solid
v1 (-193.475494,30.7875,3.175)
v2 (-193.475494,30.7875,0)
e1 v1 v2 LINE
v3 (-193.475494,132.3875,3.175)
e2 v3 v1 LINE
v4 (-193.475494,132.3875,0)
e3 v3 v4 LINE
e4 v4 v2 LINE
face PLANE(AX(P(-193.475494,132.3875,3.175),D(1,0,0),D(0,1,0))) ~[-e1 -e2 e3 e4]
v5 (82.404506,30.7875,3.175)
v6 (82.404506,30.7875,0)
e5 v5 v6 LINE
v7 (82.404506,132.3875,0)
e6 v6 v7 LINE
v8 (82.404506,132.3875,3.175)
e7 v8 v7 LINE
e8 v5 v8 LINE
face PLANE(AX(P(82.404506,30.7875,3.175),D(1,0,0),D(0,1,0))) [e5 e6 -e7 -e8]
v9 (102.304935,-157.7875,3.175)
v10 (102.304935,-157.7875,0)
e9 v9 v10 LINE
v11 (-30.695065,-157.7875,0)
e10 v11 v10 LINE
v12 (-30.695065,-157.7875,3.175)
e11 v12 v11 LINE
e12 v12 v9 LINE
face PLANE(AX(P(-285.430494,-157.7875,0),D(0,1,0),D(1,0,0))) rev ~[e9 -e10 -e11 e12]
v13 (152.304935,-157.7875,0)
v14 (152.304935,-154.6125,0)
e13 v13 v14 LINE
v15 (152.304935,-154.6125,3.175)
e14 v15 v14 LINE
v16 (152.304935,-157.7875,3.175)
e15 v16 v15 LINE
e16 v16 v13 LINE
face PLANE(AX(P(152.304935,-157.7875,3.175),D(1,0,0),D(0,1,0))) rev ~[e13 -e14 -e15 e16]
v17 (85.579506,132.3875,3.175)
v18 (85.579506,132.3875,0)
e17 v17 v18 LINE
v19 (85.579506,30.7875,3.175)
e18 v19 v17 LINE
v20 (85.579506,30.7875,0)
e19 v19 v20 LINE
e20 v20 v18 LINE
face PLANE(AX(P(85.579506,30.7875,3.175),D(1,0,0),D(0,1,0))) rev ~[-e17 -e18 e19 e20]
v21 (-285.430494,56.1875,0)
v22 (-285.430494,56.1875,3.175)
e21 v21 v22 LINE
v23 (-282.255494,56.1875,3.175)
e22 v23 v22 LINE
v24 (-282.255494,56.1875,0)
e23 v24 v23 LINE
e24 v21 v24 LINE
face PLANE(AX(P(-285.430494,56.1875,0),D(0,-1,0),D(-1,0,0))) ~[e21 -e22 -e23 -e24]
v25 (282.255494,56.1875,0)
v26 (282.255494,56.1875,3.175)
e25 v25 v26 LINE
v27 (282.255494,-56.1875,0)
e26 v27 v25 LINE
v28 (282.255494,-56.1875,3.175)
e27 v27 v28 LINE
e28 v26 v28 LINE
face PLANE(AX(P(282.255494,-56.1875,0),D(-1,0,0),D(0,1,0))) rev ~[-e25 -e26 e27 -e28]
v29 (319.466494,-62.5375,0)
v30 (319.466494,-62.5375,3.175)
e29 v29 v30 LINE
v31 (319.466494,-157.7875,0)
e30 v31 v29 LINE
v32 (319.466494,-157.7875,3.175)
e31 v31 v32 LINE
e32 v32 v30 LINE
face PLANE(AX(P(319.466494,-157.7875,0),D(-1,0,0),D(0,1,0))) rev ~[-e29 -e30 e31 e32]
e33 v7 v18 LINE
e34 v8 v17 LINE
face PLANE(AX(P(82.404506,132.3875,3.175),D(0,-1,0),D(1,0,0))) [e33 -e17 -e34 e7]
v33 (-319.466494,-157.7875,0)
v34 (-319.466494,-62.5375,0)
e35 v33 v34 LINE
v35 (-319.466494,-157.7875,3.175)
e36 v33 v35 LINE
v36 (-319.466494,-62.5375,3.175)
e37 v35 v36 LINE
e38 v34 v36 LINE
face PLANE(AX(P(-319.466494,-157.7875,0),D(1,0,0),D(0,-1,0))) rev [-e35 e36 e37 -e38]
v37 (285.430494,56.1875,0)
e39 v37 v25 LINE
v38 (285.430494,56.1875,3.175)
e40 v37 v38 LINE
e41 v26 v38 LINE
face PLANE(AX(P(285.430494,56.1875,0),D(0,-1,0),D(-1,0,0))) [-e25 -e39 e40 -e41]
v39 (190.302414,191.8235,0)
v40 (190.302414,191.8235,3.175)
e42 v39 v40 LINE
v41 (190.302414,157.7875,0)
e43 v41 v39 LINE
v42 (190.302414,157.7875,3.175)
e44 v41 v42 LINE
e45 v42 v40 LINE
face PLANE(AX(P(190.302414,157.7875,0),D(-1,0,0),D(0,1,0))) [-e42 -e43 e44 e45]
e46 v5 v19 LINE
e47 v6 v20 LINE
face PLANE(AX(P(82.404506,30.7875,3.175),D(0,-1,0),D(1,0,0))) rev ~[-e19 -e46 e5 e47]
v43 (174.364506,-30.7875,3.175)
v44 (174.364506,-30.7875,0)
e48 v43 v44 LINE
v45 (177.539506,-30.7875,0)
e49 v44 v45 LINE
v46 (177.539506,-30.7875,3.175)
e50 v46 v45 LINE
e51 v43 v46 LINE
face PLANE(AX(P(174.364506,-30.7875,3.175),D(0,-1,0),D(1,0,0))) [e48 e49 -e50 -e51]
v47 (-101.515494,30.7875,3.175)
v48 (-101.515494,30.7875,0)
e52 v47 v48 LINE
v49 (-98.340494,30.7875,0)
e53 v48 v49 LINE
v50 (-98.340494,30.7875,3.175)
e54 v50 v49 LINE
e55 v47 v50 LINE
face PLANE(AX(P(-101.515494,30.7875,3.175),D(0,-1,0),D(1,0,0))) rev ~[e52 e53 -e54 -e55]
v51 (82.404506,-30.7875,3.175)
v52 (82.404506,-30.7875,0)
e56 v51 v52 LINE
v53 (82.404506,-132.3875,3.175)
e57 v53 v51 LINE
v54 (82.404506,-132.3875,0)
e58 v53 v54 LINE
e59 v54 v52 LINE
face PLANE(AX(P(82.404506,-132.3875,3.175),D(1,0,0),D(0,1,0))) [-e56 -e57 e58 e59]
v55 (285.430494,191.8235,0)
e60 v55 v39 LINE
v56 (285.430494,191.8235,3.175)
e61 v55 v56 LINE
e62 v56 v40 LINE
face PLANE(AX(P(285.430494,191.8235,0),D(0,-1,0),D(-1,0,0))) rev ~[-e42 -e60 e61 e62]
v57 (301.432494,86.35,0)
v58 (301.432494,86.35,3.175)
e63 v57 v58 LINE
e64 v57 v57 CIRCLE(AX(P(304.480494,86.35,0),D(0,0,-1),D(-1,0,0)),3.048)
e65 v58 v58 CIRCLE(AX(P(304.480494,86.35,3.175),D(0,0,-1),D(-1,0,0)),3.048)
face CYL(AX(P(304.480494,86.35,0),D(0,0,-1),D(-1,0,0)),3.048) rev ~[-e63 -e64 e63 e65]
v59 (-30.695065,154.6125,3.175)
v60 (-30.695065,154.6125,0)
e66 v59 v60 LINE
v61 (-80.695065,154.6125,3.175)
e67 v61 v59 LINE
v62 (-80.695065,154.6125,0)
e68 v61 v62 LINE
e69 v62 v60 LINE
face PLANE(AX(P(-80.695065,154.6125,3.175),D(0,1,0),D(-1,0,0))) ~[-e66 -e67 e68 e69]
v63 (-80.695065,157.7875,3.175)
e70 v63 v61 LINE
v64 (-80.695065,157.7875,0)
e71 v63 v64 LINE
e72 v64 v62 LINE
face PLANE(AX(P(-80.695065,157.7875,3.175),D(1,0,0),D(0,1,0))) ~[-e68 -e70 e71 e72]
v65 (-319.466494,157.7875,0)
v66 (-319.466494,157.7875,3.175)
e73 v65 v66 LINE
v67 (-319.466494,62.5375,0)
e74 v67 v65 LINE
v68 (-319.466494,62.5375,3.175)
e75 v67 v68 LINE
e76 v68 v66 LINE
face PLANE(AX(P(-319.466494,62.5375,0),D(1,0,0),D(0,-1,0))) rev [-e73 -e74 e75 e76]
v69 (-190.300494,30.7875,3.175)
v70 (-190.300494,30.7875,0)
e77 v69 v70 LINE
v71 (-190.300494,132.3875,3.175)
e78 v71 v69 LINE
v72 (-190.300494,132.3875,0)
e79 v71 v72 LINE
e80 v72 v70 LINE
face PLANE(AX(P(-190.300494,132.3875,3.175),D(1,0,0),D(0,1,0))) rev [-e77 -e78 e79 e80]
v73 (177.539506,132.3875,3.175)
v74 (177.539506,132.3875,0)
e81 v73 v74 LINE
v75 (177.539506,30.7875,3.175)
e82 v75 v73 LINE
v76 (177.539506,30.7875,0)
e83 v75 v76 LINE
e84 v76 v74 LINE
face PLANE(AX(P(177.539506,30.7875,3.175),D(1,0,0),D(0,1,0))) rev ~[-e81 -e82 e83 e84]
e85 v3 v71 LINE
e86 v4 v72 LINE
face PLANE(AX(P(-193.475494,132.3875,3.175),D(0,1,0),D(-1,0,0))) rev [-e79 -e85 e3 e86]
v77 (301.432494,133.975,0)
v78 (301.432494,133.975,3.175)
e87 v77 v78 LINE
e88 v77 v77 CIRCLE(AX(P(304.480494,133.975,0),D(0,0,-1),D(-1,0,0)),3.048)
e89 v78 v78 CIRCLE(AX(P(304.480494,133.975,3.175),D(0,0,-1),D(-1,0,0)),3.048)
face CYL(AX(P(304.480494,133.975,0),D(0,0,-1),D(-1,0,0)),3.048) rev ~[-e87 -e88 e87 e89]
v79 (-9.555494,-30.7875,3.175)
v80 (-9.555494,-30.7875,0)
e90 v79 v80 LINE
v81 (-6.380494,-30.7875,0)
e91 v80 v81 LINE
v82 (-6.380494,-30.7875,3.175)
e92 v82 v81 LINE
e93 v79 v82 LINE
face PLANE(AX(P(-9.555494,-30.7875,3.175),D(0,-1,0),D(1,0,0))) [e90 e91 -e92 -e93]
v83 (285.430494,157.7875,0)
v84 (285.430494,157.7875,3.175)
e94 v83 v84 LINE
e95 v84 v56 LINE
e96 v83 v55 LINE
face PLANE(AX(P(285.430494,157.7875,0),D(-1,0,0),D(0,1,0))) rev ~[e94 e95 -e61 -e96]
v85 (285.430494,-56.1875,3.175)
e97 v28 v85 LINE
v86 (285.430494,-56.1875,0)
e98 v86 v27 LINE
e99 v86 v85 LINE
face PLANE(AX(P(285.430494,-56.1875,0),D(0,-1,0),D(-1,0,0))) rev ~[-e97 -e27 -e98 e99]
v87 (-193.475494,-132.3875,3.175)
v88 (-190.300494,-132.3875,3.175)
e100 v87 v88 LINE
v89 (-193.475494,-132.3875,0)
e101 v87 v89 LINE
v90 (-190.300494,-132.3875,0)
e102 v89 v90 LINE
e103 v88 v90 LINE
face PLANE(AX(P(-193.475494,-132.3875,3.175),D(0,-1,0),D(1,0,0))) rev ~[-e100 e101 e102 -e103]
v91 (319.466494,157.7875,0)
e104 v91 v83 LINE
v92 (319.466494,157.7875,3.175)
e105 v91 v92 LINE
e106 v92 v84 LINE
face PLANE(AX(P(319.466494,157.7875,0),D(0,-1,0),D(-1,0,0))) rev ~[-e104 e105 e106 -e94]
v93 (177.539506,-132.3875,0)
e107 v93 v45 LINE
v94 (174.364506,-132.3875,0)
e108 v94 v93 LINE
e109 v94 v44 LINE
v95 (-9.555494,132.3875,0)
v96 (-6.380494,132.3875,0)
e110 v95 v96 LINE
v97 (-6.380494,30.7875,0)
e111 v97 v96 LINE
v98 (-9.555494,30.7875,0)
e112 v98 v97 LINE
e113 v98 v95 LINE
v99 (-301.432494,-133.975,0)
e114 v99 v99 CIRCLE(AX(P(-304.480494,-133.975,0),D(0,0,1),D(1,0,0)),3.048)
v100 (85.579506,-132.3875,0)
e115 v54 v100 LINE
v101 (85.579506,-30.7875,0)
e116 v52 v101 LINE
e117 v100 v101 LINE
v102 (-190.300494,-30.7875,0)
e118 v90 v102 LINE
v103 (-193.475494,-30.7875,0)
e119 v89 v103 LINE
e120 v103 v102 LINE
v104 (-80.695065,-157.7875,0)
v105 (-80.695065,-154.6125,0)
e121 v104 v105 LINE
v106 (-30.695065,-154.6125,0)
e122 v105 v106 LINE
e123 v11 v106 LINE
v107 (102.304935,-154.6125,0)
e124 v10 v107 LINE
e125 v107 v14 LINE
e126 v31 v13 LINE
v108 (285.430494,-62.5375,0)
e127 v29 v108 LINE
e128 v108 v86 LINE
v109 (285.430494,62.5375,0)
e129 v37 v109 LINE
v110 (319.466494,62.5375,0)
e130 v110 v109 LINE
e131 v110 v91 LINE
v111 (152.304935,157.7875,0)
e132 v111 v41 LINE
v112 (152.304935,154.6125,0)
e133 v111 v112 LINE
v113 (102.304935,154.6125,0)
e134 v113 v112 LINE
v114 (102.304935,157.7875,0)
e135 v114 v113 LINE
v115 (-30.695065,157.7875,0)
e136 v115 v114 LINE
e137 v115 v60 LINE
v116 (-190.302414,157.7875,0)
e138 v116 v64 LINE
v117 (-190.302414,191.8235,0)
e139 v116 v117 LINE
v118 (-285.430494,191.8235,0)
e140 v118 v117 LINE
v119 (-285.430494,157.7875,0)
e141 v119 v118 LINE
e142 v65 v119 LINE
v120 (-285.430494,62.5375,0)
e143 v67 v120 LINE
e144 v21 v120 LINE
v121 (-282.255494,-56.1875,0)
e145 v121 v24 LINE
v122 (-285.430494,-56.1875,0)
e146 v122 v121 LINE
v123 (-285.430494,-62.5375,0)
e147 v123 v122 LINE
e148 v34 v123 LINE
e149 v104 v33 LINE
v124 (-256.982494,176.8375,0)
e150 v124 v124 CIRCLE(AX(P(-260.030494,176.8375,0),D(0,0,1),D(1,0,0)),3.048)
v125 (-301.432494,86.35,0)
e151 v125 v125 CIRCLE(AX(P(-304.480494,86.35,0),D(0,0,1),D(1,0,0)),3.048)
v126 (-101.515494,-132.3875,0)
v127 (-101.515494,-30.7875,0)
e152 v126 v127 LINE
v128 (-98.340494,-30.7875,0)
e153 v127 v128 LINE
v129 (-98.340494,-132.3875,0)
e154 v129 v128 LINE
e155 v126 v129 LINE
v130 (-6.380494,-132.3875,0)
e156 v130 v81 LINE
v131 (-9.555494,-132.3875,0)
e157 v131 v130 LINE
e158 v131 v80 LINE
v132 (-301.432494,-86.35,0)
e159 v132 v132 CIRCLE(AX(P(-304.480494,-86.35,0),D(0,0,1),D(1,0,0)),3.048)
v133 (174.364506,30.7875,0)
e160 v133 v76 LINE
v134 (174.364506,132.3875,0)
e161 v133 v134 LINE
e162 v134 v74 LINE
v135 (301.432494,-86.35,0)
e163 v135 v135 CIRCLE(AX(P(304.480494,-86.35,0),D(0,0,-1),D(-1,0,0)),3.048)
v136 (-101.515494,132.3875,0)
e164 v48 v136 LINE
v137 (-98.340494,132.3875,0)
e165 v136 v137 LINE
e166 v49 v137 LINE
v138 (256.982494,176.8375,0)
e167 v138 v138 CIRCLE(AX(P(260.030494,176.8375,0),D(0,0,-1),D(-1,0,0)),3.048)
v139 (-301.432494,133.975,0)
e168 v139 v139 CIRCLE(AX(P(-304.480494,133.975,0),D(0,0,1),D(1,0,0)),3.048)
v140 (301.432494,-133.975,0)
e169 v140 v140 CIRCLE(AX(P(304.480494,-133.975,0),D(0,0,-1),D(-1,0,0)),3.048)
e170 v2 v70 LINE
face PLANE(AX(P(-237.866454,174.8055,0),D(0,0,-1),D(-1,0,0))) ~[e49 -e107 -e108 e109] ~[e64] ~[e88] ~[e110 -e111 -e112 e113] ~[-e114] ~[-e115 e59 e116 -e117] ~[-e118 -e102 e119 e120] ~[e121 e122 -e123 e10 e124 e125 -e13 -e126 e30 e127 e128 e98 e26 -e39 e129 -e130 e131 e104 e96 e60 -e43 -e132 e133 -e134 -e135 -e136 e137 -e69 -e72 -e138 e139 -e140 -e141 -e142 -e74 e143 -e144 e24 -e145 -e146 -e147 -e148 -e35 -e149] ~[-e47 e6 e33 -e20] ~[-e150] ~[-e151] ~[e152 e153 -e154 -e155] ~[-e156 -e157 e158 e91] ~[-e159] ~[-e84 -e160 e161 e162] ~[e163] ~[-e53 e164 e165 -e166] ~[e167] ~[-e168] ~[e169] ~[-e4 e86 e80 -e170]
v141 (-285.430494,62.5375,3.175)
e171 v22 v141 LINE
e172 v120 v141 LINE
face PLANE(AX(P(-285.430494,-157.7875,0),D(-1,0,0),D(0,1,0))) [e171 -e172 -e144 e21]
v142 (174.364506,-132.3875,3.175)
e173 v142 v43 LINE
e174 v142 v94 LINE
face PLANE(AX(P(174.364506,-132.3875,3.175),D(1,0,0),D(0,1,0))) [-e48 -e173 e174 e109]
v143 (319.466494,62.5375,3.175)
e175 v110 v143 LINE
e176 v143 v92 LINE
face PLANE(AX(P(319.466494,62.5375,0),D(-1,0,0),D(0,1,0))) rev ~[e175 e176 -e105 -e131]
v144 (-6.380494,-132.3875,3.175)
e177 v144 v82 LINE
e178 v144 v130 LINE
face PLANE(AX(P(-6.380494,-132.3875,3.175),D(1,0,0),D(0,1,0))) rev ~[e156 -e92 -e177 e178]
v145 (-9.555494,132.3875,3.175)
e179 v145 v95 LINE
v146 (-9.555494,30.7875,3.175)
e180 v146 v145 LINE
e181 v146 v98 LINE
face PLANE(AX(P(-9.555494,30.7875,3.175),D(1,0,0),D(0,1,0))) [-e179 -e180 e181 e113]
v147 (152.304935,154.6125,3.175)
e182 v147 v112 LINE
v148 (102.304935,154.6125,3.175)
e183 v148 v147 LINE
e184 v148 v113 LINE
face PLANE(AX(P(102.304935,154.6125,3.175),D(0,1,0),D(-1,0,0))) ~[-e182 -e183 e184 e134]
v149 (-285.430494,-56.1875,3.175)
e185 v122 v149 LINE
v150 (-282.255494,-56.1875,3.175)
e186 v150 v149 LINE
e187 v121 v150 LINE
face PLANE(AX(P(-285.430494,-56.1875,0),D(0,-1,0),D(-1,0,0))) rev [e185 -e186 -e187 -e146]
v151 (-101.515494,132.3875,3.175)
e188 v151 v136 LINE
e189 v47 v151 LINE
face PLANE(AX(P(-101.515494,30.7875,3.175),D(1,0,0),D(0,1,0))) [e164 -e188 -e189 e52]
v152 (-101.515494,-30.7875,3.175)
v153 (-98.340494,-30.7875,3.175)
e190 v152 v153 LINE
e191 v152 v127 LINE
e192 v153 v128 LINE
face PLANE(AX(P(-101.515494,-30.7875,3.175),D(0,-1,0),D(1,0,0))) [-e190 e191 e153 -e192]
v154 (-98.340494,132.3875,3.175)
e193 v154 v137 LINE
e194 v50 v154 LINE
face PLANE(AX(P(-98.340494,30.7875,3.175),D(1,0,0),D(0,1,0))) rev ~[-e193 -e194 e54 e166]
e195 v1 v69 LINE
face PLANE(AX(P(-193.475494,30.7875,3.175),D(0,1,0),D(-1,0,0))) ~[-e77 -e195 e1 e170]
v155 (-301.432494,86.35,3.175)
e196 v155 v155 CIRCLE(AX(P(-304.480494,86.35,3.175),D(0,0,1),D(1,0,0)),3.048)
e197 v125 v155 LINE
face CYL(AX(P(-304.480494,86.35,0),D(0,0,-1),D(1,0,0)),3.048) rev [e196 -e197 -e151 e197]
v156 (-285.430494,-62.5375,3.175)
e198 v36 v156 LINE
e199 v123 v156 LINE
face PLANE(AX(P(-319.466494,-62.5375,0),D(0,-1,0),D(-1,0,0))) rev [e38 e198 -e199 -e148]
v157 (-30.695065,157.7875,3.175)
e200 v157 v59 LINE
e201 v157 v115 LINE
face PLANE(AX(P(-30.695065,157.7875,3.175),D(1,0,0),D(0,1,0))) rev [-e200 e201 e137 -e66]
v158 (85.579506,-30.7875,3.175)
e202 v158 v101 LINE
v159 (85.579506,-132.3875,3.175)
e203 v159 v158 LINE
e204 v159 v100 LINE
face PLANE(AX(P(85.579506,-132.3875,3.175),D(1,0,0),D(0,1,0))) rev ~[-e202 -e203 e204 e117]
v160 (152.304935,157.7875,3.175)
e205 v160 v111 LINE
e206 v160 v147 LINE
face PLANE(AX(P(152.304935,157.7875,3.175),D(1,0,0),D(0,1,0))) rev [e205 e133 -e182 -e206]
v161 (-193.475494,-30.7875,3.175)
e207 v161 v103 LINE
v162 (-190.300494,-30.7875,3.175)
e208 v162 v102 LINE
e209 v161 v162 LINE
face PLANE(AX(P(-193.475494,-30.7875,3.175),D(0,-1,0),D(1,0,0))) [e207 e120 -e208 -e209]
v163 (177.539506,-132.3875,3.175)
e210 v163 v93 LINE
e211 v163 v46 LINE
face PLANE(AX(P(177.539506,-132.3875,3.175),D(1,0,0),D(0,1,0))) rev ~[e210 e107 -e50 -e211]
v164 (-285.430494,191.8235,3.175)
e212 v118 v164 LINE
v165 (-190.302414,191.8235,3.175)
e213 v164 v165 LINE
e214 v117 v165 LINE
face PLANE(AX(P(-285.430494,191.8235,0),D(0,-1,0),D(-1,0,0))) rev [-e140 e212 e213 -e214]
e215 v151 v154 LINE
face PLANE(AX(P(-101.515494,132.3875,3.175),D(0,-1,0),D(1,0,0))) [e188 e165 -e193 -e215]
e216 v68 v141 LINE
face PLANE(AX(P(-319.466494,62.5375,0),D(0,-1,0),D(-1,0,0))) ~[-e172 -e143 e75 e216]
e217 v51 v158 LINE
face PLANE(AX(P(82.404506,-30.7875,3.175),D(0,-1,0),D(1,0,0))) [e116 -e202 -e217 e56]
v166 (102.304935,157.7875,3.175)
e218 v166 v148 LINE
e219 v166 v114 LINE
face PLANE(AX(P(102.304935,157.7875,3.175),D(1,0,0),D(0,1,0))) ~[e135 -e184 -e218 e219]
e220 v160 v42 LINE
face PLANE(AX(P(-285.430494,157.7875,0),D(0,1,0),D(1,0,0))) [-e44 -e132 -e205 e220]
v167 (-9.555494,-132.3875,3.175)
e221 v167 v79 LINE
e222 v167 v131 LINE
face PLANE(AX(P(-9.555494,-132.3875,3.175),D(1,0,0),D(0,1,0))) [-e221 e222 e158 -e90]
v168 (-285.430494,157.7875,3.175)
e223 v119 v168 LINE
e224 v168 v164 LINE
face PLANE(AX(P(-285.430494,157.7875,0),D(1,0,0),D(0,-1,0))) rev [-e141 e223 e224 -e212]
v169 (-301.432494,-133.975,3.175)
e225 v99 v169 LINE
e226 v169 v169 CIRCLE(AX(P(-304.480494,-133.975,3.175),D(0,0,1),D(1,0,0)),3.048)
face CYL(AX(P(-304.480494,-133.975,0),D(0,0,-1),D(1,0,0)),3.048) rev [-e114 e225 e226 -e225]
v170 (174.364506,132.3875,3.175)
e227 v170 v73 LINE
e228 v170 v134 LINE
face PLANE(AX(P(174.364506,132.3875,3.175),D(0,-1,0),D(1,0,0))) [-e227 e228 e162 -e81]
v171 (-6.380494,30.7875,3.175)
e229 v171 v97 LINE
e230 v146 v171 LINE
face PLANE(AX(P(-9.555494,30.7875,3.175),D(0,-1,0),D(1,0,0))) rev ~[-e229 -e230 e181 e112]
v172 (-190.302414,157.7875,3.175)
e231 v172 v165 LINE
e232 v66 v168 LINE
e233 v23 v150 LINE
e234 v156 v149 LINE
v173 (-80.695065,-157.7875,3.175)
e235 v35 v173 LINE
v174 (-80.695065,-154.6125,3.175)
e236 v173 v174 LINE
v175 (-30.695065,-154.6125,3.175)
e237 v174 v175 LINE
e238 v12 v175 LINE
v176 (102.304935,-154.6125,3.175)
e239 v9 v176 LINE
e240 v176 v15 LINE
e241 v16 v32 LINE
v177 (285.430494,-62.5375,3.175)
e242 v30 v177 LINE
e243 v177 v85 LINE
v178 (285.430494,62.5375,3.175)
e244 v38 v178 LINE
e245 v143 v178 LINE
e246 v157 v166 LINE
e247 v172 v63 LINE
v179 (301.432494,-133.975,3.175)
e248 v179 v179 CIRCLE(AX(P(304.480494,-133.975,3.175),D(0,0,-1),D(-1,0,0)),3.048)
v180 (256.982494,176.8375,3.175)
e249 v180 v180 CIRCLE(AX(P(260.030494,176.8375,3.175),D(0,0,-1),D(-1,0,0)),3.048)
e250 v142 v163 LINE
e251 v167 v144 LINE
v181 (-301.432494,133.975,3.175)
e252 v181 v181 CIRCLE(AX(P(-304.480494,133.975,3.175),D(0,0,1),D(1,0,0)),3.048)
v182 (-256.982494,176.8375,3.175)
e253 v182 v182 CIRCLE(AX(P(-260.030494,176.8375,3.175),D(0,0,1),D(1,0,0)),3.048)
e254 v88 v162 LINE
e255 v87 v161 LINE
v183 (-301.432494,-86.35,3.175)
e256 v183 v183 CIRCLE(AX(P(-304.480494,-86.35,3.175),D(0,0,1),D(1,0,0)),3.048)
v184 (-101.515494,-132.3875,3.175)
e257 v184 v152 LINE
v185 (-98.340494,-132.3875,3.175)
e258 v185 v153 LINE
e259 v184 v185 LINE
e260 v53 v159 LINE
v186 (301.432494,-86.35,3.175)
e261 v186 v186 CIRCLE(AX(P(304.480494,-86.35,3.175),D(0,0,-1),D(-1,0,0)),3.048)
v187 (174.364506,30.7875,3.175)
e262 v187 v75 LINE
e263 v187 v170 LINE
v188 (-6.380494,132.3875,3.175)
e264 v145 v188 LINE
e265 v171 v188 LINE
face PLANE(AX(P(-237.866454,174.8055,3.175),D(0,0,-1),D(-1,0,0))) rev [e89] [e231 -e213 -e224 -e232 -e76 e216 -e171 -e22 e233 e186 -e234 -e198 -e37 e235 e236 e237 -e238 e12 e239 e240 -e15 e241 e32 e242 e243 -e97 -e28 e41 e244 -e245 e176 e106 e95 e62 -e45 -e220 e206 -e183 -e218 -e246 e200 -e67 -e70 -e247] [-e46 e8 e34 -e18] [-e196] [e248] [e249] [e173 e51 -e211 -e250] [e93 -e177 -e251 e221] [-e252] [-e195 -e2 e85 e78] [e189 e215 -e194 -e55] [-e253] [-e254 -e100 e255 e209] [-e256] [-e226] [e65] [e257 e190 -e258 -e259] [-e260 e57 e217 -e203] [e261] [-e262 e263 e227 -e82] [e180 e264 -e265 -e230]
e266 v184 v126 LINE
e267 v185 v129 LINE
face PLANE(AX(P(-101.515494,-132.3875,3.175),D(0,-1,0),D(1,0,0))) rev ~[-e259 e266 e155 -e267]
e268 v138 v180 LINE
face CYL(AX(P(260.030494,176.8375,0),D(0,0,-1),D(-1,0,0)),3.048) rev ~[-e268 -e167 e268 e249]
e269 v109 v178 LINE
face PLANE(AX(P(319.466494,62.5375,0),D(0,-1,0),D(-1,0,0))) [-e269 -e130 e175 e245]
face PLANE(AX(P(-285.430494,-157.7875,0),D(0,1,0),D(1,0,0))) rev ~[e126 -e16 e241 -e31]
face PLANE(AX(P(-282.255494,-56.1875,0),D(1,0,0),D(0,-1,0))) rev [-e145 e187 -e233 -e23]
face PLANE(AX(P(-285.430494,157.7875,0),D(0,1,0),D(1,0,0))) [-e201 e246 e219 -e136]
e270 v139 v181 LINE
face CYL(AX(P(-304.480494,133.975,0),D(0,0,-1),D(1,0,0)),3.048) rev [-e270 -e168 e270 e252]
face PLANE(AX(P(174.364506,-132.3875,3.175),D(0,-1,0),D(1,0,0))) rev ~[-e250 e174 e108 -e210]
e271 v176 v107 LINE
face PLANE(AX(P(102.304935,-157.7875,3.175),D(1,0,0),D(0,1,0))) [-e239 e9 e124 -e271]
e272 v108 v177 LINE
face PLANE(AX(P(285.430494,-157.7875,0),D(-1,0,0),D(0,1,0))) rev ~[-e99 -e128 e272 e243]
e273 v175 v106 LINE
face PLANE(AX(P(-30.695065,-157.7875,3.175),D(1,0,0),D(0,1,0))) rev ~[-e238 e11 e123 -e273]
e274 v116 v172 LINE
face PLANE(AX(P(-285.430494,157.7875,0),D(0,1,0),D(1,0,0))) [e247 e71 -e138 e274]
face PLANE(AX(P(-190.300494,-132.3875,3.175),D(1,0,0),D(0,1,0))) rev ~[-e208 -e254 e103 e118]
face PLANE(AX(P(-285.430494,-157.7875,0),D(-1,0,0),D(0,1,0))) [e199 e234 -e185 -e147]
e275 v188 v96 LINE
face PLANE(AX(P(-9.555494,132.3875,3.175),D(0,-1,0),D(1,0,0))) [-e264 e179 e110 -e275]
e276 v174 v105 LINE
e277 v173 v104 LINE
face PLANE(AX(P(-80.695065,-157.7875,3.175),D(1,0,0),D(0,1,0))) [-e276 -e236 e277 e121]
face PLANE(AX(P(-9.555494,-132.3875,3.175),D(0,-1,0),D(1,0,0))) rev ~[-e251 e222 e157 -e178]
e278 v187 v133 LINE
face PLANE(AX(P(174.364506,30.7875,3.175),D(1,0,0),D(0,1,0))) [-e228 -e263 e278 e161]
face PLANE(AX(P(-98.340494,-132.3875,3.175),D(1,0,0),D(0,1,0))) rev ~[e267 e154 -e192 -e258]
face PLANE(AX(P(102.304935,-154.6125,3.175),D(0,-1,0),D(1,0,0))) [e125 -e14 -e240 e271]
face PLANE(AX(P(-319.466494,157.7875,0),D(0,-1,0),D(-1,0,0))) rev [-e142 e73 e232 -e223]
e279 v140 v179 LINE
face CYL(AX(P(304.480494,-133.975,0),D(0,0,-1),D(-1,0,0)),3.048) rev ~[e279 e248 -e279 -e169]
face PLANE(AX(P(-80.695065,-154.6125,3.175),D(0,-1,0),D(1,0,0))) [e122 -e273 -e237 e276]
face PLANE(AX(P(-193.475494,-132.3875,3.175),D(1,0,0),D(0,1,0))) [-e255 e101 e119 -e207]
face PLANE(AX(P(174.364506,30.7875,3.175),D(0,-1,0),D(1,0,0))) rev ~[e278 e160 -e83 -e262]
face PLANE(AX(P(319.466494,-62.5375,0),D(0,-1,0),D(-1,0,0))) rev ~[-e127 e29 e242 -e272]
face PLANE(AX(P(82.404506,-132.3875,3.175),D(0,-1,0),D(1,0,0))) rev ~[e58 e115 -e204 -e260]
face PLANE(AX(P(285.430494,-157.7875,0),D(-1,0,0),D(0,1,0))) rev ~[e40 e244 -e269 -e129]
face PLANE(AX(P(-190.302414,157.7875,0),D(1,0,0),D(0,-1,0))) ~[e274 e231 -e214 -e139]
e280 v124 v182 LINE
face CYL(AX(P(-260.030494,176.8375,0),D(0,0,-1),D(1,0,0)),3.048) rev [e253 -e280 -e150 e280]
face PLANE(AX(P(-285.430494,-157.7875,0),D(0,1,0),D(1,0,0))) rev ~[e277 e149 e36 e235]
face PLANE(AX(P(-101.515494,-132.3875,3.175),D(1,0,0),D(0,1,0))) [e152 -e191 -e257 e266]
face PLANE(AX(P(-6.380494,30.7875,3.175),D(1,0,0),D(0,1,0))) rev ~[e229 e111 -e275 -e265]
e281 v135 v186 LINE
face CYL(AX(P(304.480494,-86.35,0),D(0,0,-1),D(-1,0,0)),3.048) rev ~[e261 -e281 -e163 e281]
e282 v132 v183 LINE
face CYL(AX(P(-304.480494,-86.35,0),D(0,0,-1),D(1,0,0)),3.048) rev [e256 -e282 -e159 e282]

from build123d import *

# Parameters (mm, degrees)
SKETCH1_W                 = 570.860988324
SKETCH1_H                 = 315.575
BOSS_EXTRUDE1_DEPTH       = 3.175
SKETCH2_W                 = 3.175
SKETCH2_H                 = 101.6
CUT_EXTRUDE1_DEPTH        = 3.175
SKETCH7_W                 = 50
SKETCH7_H                 = 3.175
CUT_EXTRUDE5_DEPTH        = 3.175
LPATTERN2_COUNT           = 5
LPATTERN2_PITCH           = 91.96
LPATTERN2_COPY_1_SKETCH_W = 3.175
LPATTERN2_COPY_1_SKETCH_H = 101.6
LPATTERN2_COPY_1_DEPTH    = 3.175
LPATTERN2_COPY_2_SKETCH_W = 3.175
LPATTERN2_COPY_2_SKETCH_H = 101.6
LPATTERN2_COPY_2_DEPTH    = 3.175
LPATTERN2_COPY_3_SKETCH_W = 3.175
LPATTERN2_COPY_3_SKETCH_H = 101.6
LPATTERN2_COPY_3_DEPTH    = 3.175
LPATTERN2_COPY_4_SKETCH_W = 3.175
LPATTERN2_COPY_4_SKETCH_H = 101.6
LPATTERN2_COPY_4_DEPTH    = 3.175
SKETCH9_W                 = 95.12808
SKETCH9_H                 = 34.036
SKETCH9_R                 = 3.048
SKETCH9_W_2               = 34.036
SKETCH9_H_2               = 95.25
BOSS_EXTRUDE3_DEPTH       = 3.175
SKETCH10_W                = 3.175
SKETCH10_H                = 112.375
CUT_EXTRUDE6_DEPTH        = 373.646181611


with BuildPart() as part:
    # Sketch1 → Boss-Extrude1 (new body)
    with BuildSketch(Plane.XY):
        Rectangle(SKETCH1_W, SKETCH1_H)
    extrude(amount=BOSS_EXTRUDE1_DEPTH)

    # Sketch2 → Cut-Extrude1 (cut)
    with BuildSketch(Plane.XY.offset(3.175)):
        with Locations((-191.887994162, -81.5875)):
            Rectangle(SKETCH2_W, SKETCH2_H)
    cut_extrude1 = extrude(amount=-CUT_EXTRUDE1_DEPTH, mode=Mode.SUBTRACT)

    # Sketch7 → Cut-Extrude5 (cut)
    with BuildSketch(Plane.XY.offset(3.175)):
        with Locations((127.304934912, -156.2)):
            Rectangle(SKETCH7_W, SKETCH7_H)
        with Locations((-55.695065088, -156.2)):
            Rectangle(SKETCH7_W, SKETCH7_H)
    cut_extrude5 = extrude(amount=-CUT_EXTRUDE5_DEPTH, mode=Mode.SUBTRACT)

    # Mirror3: Cut-Extrude1 across plane
    add(cut_extrude1.mirror(Plane.ZX), mode=Mode.SUBTRACT)

    # LPattern2: Cut-Extrude1 ×5
    with Locations(*[(i * LPATTERN2_PITCH, 0, 0) for i in range(1, LPATTERN2_COUNT)]):
        add(cut_extrude1, mode=Mode.SUBTRACT)

    # LPattern2 copy 1 sketch → LPattern2 copy 1 (cut)
    with BuildSketch(Plane(origin=(91.96, 0, 3.175), x_dir=(1, 0, 0), z_dir=(0, 0, 1))):
        with Locations((-191.887994162, 81.5875)):
            Rectangle(LPATTERN2_COPY_1_SKETCH_W, LPATTERN2_COPY_1_SKETCH_H)
    extrude(amount=-LPATTERN2_COPY_1_DEPTH, mode=Mode.SUBTRACT)

    # LPattern2 copy 2 sketch → LPattern2 copy 2 (cut)
    with BuildSketch(Plane(origin=(183.92, 0, 3.175), x_dir=(1, 0, 0), z_dir=(0, 0, 1))):
        with Locations((-191.887994162, 81.5875)):
            Rectangle(LPATTERN2_COPY_2_SKETCH_W, LPATTERN2_COPY_2_SKETCH_H)
    extrude(amount=-LPATTERN2_COPY_2_DEPTH, mode=Mode.SUBTRACT)

    # LPattern2 copy 3 sketch → LPattern2 copy 3 (cut)
    with BuildSketch(Plane(origin=(275.88, 0, 3.175), x_dir=(1, 0, 0), z_dir=(0, 0, 1))):
        with Locations((-191.887994162, 81.5875)):
            Rectangle(LPATTERN2_COPY_3_SKETCH_W, LPATTERN2_COPY_3_SKETCH_H)
    extrude(amount=-LPATTERN2_COPY_3_DEPTH, mode=Mode.SUBTRACT)

    # LPattern2 copy 4 sketch → LPattern2 copy 4 (cut)
    with BuildSketch(Plane(origin=(367.84, 0, 3.175), x_dir=(1, 0, 0), z_dir=(0, 0, 1))):
        with Locations((-191.887994162, 81.5875)):
            Rectangle(LPATTERN2_COPY_4_SKETCH_W, LPATTERN2_COPY_4_SKETCH_H)
    extrude(amount=-LPATTERN2_COPY_4_DEPTH, mode=Mode.SUBTRACT)

    # Sketch9 → Boss-Extrude3 (add)
    # profile 1 of 3: a face of its own
    with BuildSketch(Plane(origin=(0, 0, 0), x_dir=(-1, 0, 0), z_dir=(0, 0, -1))):
        with Locations((-237.866454162, 174.8055)):
            Rectangle(SKETCH9_W, SKETCH9_H)
        with Locations((-260.030494162, 176.8375)):
            Circle(SKETCH9_R, mode=Mode.SUBTRACT)
    # profile 2 of 3: a face of its own
    with BuildSketch(Plane(origin=(0, 0, 0), x_dir=(-1, 0, 0), z_dir=(0, 0, -1))):
        with Locations((-302.448494162, 110.1625)):
            Rectangle(SKETCH9_W_2, SKETCH9_H_2)
        with Locations((-304.480494162, 86.35)):
            Circle(SKETCH9_R, mode=Mode.SUBTRACT)
        with Locations((-304.480494162, 133.975)):
            Circle(SKETCH9_R, mode=Mode.SUBTRACT)
    # profile 3 of 3: a face of its own
    with BuildSketch(Plane(origin=(0, 0, 0), x_dir=(-1, 0, 0), z_dir=(0, 0, -1))):
        with Locations((-302.448494162, -110.1625)):
            Rectangle(SKETCH9_W_2, SKETCH9_H_2)
        with Locations((-304.480494162, -133.975)):
            Circle(SKETCH9_R, mode=Mode.SUBTRACT)
        with Locations((-304.480494162, -86.35)):
            Circle(SKETCH9_R, mode=Mode.SUBTRACT)
    boss_extrude3 = extrude(amount=-BOSS_EXTRUDE3_DEPTH)

    # Mirror4: Boss-Extrude3 across plane
    add(boss_extrude3.mirror(Plane(origin=(0, 0, 0), x_dir=(0, 0, 1), z_dir=(1, 0, 0))))

    # Mirror5: Cut-Extrude5 across plane
    add(cut_extrude5.mirror(Plane.ZX), mode=Mode.SUBTRACT)

    # Sketch10 → Cut-Extrude6 (cut, through all)
    with BuildSketch(Plane(origin=(0, 0, 0), x_dir=(-1, 0, 0), z_dir=(0, 0, -1))):
        with Locations((-283.842994162, 0)):
            Rectangle(SKETCH10_W, SKETCH10_H)
    cut_extrude6 = extrude(amount=-CUT_EXTRUDE6_DEPTH, mode=Mode.SUBTRACT)

    # Mirror6: Cut-Extrude6 across plane
    add(cut_extrude6.mirror(Plane(origin=(0, 0, 0), x_dir=(0, 0, 1), z_dir=(1, 0, 0))), mode=Mode.SUBTRACT)


solid = part.part
